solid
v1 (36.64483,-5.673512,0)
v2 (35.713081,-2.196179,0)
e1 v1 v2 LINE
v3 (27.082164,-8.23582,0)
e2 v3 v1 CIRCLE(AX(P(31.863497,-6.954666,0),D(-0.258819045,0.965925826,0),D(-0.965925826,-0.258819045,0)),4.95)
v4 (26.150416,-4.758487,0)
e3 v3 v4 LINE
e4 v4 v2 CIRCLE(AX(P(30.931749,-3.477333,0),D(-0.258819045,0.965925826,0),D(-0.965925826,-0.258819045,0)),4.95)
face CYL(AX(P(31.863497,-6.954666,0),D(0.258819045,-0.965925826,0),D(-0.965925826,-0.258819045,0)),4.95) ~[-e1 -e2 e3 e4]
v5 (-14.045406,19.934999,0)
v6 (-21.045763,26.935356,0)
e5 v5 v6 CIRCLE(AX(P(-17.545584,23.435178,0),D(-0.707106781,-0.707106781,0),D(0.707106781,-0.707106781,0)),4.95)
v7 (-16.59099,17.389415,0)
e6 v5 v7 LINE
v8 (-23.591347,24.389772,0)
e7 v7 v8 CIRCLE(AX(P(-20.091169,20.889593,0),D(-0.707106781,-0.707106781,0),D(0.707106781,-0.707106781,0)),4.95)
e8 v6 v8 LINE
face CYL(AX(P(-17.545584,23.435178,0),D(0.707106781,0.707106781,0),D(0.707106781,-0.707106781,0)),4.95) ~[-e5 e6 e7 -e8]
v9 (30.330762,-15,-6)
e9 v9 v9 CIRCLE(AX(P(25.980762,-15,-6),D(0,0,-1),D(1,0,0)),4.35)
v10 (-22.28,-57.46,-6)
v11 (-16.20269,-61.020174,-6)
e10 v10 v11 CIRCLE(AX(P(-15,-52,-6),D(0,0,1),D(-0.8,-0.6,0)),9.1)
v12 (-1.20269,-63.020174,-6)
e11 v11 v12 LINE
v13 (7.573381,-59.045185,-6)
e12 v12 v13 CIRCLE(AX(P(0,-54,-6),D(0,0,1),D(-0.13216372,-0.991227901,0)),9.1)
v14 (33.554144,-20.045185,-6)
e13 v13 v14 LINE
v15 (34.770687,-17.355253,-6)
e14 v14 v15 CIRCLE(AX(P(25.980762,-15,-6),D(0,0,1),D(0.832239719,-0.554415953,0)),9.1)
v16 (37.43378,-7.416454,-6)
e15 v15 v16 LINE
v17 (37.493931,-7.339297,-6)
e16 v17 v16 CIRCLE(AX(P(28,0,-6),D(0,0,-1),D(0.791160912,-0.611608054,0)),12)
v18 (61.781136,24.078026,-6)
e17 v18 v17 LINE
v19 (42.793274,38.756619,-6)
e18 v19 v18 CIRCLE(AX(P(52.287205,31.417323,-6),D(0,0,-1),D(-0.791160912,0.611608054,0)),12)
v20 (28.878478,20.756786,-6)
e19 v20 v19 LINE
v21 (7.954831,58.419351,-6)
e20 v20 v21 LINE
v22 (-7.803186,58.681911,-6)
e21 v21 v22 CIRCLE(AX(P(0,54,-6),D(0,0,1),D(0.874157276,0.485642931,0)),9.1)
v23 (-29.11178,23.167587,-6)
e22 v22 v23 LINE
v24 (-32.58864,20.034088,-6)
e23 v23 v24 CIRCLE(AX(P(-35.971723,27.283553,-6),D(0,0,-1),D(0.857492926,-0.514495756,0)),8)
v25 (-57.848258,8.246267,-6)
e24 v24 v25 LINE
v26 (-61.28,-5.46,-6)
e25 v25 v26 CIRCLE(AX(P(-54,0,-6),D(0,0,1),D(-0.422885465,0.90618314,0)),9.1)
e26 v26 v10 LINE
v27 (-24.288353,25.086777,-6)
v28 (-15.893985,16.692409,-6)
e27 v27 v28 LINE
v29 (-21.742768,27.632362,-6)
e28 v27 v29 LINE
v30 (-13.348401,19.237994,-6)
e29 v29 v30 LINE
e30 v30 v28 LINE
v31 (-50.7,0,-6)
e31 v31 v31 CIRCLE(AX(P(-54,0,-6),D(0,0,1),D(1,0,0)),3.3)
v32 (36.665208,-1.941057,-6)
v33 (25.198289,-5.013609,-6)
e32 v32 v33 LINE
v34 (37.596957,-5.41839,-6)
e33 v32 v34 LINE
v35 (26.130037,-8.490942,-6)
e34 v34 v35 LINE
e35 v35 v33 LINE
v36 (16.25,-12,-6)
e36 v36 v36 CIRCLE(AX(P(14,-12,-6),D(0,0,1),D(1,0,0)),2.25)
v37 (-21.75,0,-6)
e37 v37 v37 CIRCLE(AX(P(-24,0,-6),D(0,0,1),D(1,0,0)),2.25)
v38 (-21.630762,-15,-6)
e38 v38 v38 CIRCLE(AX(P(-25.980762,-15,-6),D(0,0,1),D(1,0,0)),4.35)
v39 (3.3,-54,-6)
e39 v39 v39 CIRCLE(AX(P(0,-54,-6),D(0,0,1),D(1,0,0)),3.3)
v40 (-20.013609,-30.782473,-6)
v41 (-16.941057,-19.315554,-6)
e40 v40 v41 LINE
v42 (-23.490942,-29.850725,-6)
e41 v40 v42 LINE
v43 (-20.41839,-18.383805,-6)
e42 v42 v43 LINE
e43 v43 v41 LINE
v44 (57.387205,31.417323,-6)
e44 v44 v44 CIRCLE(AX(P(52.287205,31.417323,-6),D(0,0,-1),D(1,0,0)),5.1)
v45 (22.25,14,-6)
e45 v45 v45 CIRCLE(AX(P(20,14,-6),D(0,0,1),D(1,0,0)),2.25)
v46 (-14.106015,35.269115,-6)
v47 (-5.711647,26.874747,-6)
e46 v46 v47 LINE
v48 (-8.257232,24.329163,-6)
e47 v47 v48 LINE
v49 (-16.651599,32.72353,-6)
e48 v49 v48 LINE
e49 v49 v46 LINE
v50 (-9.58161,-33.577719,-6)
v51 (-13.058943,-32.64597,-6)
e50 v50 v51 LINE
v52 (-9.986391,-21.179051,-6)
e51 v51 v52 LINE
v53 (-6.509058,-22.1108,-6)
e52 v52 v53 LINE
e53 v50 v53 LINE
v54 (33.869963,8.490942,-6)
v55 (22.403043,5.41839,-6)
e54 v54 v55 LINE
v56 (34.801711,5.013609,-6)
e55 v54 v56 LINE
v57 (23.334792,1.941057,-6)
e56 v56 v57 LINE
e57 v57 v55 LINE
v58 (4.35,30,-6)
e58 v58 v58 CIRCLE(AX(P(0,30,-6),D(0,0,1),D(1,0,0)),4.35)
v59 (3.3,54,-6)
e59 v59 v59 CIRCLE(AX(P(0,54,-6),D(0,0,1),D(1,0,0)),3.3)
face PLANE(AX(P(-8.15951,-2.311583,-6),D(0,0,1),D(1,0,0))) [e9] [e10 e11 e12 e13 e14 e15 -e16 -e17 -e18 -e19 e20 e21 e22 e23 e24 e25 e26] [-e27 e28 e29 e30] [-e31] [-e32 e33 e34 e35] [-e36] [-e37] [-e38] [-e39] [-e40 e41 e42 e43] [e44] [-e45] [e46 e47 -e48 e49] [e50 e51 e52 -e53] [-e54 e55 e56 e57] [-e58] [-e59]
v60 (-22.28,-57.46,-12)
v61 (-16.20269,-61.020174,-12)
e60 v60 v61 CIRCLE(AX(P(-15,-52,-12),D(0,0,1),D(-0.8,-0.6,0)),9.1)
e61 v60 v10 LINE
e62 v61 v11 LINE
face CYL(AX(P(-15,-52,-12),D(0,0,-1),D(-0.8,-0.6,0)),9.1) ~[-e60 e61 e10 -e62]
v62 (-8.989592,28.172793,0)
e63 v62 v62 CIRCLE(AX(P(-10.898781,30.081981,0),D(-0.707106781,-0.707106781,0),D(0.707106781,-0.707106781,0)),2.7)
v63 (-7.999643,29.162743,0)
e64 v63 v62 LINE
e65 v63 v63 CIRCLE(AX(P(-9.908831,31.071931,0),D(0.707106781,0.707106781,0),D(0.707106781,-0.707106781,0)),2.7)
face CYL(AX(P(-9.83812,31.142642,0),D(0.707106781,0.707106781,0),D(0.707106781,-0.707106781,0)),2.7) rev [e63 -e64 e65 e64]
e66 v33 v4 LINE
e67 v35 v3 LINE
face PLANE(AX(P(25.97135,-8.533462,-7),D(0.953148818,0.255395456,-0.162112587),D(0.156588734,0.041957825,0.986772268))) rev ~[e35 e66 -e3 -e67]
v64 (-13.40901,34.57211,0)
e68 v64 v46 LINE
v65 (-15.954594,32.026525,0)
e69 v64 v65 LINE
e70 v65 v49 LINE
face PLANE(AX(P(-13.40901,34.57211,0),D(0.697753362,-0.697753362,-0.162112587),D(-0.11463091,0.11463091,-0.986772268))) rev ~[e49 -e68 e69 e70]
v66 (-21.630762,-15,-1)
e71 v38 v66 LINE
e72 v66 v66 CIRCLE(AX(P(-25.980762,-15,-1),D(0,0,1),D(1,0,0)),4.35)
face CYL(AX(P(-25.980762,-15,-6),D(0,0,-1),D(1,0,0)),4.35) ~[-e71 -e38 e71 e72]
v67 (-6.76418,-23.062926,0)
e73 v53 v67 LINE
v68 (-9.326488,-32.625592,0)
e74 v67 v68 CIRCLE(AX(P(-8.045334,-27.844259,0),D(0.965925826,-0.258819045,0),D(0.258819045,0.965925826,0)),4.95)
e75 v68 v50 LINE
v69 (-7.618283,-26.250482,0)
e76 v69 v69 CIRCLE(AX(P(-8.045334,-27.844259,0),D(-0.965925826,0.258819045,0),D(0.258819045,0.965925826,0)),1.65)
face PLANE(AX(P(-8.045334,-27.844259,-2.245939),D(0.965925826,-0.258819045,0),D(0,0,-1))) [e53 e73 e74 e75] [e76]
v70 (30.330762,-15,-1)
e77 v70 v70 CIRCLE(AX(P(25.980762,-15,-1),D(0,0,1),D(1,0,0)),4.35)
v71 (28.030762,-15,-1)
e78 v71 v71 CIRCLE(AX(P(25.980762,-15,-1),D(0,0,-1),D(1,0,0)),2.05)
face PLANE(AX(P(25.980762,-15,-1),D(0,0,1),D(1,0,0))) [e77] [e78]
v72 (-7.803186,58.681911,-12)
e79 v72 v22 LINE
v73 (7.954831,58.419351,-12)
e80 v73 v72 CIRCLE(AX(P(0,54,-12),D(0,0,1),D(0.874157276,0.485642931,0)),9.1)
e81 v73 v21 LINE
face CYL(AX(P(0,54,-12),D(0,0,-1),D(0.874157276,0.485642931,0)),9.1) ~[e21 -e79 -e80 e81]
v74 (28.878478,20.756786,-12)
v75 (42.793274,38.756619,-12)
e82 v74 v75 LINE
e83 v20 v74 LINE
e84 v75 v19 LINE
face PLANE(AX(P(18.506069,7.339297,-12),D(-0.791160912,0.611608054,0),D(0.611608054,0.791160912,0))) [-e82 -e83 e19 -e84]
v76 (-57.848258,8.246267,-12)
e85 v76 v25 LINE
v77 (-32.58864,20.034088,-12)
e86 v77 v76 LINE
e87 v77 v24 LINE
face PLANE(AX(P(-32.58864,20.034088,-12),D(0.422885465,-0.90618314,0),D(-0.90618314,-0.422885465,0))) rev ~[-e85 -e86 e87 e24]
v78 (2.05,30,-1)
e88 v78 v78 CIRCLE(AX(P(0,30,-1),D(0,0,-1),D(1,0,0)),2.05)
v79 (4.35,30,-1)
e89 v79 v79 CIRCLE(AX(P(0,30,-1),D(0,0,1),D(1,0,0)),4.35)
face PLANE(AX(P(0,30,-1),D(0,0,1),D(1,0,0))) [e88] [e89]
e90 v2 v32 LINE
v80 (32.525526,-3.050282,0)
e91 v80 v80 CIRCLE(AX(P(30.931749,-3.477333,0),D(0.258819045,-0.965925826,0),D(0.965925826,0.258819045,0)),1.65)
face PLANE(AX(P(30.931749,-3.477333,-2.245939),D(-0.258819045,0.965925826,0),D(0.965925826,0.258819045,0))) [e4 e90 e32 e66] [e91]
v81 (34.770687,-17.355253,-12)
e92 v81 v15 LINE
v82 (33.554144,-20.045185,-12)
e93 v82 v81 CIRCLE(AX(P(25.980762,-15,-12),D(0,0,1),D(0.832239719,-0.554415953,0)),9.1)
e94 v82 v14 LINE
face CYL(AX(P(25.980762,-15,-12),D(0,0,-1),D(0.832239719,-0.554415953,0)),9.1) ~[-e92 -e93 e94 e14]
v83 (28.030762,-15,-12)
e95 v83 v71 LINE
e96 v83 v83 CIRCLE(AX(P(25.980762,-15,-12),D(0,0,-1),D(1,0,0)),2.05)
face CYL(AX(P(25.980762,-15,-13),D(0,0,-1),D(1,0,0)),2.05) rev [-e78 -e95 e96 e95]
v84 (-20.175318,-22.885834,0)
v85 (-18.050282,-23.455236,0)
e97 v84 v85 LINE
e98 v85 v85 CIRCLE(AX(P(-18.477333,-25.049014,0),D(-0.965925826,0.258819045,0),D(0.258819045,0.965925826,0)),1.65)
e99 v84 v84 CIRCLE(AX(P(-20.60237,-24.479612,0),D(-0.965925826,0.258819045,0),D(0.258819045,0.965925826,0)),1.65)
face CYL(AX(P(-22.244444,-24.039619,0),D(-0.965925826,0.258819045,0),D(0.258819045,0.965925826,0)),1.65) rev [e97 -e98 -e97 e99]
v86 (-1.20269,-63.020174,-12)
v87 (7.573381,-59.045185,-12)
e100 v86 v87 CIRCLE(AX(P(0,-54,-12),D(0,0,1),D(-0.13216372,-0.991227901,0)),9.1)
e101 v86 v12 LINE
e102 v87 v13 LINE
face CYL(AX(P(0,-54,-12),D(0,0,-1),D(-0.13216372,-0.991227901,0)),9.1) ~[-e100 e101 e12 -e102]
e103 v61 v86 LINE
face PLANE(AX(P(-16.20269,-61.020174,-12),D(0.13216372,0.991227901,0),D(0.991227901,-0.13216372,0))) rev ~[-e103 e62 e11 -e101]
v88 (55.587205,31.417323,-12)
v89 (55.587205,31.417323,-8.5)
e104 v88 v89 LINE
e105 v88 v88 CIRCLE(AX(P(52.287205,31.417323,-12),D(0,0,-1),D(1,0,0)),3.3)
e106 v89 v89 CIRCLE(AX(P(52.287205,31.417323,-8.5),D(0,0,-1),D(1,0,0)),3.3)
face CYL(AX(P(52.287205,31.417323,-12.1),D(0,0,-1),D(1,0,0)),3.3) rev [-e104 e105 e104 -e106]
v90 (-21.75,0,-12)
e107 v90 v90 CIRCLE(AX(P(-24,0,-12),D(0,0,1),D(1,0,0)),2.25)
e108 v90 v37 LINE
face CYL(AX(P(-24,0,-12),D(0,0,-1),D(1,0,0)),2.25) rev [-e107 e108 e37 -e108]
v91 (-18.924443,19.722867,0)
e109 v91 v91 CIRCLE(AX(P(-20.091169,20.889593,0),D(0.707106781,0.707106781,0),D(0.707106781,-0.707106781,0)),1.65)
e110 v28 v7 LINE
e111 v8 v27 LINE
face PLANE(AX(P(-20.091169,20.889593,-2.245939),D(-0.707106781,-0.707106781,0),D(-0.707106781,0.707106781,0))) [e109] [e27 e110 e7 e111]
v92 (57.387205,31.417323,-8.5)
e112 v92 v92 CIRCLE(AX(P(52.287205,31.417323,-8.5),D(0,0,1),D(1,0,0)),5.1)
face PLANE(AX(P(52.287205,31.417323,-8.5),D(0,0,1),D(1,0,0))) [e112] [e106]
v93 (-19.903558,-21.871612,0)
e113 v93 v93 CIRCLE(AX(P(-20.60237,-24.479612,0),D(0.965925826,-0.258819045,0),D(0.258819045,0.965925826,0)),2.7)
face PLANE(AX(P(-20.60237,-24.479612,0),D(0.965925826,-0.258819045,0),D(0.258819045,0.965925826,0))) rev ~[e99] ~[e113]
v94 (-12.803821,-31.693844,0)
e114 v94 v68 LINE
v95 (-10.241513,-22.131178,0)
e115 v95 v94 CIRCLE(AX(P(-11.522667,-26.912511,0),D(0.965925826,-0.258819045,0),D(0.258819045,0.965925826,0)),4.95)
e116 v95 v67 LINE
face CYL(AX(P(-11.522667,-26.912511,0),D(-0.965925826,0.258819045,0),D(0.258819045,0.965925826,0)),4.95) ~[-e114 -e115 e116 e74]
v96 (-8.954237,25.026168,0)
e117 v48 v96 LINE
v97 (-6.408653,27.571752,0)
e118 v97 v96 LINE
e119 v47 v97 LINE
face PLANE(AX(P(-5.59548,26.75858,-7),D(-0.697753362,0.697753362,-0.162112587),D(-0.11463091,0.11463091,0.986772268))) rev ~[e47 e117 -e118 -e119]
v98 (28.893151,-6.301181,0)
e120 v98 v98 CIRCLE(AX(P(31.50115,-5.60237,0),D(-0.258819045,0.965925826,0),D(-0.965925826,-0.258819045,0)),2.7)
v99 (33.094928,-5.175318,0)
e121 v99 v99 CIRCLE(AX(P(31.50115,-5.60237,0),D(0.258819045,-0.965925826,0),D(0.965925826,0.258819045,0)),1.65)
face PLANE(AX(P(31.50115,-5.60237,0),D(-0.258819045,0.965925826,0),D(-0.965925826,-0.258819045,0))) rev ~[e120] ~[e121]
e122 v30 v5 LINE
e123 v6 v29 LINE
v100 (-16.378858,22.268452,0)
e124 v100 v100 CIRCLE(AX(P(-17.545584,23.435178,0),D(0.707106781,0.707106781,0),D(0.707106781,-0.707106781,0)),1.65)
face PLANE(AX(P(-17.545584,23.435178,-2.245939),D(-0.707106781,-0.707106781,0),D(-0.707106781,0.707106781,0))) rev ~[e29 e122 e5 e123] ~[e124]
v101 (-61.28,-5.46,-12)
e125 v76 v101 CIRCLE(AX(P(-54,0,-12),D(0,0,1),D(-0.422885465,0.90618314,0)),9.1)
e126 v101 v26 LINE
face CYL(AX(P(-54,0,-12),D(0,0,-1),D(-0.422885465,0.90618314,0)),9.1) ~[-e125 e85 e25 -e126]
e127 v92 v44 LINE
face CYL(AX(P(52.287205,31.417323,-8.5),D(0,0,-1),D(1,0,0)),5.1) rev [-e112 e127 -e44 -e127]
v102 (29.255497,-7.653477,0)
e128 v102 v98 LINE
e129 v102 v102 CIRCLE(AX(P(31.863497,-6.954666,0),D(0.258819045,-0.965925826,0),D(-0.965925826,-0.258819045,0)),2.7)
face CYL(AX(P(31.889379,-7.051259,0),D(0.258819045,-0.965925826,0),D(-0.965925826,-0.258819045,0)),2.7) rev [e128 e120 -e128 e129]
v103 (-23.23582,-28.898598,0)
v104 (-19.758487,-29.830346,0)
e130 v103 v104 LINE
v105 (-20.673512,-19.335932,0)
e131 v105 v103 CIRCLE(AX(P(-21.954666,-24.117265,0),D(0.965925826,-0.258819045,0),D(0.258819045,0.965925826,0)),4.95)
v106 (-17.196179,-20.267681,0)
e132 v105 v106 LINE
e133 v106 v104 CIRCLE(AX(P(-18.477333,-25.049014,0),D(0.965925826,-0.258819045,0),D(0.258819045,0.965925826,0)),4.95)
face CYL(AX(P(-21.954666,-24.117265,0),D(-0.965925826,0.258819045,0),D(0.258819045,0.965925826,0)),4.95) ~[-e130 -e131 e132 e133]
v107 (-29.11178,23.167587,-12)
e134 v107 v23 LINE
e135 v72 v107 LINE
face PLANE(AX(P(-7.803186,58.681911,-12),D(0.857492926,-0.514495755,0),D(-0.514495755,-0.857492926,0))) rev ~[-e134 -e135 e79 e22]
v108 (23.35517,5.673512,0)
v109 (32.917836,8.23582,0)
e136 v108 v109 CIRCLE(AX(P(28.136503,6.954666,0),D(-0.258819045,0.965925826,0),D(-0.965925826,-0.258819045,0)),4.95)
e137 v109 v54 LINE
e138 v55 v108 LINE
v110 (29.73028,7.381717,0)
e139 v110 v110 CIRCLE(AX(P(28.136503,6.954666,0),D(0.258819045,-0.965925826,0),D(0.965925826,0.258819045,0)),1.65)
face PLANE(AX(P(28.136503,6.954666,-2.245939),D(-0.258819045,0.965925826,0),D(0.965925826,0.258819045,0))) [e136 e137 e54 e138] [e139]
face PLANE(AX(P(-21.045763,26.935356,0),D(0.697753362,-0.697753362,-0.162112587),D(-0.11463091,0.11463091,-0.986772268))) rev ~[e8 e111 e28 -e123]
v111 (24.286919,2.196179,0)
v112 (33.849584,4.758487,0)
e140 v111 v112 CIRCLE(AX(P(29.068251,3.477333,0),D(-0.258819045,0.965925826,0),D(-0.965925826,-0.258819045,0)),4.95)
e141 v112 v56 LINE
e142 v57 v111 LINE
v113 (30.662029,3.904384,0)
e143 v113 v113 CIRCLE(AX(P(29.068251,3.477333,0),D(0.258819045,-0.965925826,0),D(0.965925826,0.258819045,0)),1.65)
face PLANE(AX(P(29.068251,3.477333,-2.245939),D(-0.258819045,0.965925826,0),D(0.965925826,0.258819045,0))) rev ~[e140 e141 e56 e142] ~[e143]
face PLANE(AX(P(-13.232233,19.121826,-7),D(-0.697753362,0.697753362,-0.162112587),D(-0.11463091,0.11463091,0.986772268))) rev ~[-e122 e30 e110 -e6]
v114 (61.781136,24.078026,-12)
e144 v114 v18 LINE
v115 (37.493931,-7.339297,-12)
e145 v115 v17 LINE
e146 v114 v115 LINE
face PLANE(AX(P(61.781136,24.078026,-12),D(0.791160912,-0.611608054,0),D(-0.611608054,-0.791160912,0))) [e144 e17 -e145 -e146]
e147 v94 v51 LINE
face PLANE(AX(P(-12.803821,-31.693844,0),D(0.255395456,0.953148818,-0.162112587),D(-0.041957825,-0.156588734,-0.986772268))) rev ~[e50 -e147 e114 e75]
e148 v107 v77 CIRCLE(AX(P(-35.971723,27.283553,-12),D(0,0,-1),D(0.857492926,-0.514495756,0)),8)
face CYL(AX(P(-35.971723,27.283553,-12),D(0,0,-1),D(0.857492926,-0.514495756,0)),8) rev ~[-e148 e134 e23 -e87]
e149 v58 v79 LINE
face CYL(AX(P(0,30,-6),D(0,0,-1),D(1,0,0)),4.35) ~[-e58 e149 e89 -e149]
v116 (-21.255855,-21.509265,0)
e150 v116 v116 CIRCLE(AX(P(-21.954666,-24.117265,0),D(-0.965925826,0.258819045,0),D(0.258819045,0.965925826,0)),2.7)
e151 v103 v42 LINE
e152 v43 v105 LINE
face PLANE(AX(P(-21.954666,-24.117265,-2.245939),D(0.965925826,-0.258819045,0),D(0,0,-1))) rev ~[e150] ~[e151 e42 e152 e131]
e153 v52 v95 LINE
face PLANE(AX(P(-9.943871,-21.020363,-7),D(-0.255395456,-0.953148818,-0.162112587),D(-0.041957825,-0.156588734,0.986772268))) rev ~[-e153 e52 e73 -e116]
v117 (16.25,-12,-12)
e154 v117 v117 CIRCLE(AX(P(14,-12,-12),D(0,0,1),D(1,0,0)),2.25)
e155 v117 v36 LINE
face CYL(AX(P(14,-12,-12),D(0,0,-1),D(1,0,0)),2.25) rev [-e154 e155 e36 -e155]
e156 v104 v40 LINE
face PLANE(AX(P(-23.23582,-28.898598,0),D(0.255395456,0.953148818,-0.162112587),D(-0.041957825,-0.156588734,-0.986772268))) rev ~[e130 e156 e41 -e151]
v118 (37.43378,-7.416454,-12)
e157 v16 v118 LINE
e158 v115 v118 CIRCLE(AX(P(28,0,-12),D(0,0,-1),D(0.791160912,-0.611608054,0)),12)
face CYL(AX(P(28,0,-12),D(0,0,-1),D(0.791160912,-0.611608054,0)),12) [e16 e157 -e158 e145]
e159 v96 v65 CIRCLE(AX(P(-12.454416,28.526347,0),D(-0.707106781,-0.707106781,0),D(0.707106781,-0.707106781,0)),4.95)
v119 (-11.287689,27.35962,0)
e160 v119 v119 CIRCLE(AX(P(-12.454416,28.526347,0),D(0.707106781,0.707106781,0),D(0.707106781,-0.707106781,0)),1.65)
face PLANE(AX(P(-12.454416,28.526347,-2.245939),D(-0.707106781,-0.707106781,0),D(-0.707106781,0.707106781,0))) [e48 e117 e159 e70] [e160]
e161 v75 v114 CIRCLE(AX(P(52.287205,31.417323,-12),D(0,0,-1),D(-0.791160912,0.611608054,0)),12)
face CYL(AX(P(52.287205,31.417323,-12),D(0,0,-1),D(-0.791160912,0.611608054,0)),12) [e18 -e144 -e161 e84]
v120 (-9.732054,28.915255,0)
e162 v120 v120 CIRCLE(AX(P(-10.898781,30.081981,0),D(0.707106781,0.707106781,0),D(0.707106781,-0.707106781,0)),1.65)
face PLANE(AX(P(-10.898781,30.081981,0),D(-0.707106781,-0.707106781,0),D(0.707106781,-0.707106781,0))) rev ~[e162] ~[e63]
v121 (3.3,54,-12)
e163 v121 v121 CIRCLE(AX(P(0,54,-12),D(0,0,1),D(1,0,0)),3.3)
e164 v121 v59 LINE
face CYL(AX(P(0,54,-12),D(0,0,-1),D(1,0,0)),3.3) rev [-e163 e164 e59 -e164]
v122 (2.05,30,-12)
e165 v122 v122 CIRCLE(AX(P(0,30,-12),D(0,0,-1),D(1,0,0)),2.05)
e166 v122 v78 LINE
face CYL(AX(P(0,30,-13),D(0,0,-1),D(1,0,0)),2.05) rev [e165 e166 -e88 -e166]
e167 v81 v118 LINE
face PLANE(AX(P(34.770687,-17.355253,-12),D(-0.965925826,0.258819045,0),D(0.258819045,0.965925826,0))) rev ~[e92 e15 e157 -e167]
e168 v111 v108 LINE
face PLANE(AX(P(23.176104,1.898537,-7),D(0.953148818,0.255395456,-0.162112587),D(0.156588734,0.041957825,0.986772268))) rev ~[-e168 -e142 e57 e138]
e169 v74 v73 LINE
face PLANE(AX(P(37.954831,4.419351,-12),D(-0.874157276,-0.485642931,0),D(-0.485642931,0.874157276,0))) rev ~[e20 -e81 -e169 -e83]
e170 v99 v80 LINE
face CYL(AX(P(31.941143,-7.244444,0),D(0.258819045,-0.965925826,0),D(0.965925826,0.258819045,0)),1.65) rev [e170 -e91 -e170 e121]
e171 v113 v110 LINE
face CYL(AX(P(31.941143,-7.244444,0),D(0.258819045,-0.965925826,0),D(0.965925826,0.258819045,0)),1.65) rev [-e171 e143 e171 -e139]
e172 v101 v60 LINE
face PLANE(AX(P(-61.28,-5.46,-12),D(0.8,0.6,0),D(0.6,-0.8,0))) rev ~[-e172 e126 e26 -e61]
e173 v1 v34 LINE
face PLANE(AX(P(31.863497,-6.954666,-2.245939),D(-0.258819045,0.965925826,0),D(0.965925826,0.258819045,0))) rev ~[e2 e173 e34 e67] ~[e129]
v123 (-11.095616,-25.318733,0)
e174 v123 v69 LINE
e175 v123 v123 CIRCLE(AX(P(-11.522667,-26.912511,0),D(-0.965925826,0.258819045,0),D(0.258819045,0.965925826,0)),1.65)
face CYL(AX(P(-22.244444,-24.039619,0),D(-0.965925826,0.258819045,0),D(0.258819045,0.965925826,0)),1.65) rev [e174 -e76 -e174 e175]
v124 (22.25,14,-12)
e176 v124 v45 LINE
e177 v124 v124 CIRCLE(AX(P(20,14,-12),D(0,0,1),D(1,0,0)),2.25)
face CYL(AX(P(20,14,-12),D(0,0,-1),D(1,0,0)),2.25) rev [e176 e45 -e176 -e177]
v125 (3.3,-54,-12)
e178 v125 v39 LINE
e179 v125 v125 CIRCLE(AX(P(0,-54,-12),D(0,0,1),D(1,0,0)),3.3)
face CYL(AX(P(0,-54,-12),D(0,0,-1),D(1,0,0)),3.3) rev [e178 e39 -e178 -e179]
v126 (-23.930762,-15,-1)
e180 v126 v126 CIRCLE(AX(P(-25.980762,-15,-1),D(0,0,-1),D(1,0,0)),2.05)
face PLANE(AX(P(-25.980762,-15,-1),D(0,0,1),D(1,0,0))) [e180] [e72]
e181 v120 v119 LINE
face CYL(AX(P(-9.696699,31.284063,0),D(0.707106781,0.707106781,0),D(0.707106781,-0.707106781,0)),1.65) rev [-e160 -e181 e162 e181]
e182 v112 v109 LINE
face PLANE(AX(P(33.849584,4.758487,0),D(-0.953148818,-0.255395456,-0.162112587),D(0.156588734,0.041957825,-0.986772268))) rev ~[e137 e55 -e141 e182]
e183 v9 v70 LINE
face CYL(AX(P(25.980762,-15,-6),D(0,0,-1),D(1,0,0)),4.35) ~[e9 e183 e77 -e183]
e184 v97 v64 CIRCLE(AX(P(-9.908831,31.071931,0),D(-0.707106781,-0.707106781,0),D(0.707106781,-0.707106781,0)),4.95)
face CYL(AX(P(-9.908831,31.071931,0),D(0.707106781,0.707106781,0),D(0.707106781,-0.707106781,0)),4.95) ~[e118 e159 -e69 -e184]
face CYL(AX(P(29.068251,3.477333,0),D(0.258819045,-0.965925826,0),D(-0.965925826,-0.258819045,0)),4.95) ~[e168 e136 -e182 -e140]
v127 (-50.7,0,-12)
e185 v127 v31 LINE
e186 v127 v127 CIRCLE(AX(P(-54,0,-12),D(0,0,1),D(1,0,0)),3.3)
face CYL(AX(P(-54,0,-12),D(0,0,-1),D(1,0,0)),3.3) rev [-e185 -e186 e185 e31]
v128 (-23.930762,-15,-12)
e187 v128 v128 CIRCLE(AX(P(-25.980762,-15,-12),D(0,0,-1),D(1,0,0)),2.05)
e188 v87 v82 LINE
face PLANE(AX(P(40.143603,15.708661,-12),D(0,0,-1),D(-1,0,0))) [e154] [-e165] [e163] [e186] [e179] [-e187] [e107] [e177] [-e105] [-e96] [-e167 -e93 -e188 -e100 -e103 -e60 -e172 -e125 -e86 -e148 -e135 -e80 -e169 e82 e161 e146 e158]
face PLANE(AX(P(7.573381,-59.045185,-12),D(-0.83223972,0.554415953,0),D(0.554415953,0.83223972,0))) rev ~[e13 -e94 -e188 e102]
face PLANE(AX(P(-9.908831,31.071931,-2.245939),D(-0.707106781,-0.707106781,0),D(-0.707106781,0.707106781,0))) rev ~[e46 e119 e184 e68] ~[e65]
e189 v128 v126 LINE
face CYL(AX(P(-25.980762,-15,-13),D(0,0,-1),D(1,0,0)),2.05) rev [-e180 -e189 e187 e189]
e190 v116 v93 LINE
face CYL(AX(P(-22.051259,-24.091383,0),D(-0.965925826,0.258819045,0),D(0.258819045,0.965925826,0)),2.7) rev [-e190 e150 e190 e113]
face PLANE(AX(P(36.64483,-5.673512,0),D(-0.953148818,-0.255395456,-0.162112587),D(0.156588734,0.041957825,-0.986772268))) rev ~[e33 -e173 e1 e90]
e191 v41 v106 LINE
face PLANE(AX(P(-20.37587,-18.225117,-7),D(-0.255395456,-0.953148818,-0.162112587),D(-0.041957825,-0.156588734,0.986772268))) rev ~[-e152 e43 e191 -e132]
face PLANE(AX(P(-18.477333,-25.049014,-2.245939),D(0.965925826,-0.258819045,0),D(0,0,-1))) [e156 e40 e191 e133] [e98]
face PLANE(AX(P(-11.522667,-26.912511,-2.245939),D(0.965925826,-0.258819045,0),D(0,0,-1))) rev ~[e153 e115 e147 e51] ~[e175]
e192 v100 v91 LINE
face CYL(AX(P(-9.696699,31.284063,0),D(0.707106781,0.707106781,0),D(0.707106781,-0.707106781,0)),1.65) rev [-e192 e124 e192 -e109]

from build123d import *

# Parameters (mm, degrees)
F_01_START                                     = -12
S01_ROUNDED_V3_BACKPLATE_WITH_CAGE_AND_R       = 3.3
S01_ROUNDED_V3_BACKPLATE_WITH_CAGE_AND_R_2     = 2.25
F_01_ROUNDED_V3_BACKPLATE_WITH_CAGE_AND_DEPTH  = 6
F_02_START                                     = -6
S02_THREE_CORD_GUIDE_PEDESTALS_R               = 4.35
F_02_THREE_CORD_GUIDE_PEDESTALS_DEPTH          = 5
F_03_START                                     = -13
S03_THREE_SMOOTH_GROMMET_SEATS_R               = 2.05
F_03_THREE_SMOOTH_GROMMET_SEATS_DEPTH          = 14
F_04_START                                     = -7.2
F_04_INTEGRAL_A1_FORK_CHEEK_L_DEPTH            = 3.6
F_05_START                                     = 3.6
F_05_INTEGRAL_A1_FORK_CHEEK_R_DEPTH            = 3.6
F_06_START                                     = -7.5
S06_A1_PIVOT_THROUGH_BOTH_CHEEKS_R             = 1.65
F_06_A1_PIVOT_THROUGH_BOTH_CHEEKS_DEPTH        = 15
F_07_START                                     = -7.3
S07_A1_RECESSED_PIVOT_SCREW_HEAD_R             = 2.7
F_07_A1_RECESSED_PIVOT_SCREW_HEAD_DEPTH        = 1.5
F_08_START                                     = -7.2
F_08_INTEGRAL_A2_FORK_CHEEK_L_DEPTH            = 3.6
F_09_START                                     = 3.6
F_09_INTEGRAL_A2_FORK_CHEEK_R_DEPTH            = 3.6
F_10_START                                     = -7.5
S10_A2_PIVOT_THROUGH_BOTH_CHEEKS_R             = 1.65
F_10_A2_PIVOT_THROUGH_BOTH_CHEEKS_DEPTH        = 15
F_11_START                                     = -7.3
S11_A2_RECESSED_PIVOT_SCREW_HEAD_R             = 2.7
F_11_A2_RECESSED_PIVOT_SCREW_HEAD_DEPTH        = 1.5
F_12_START                                     = -7.2
F_12_INTEGRAL_A3_FORK_CHEEK_L_DEPTH            = 3.6
F_13_START                                     = 3.6
F_13_INTEGRAL_A3_FORK_CHEEK_R_DEPTH            = 3.6
F_14_START                                     = -7.5
S14_A3_PIVOT_THROUGH_BOTH_CHEEKS_R             = 1.65
F_14_A3_PIVOT_THROUGH_BOTH_CHEEKS_DEPTH        = 15
F_15_START                                     = -7.3
S15_A3_RECESSED_PIVOT_SCREW_HEAD_R             = 2.7
F_15_A3_RECESSED_PIVOT_SCREW_HEAD_DEPTH        = 1.5
F_16_START                                     = -12
F_16_CONTINUOUS_LAND_FOR_BUMP_END_SUPPOR_DEPTH = 6
F_17_START                                     = -12.1
S17_THROUGH_CLEARANCE_FOR_TRACK_SUPPOR_R       = 3.3
F_17_THROUGH_CLEARANCE_FOR_TRACK_SUPPORT_DEPTH = 6.2
F_18_START                                     = -8.5
S18_LOCATING_COUNTERBORE_FOR_BUMP_END_R        = 5.1
F_18_LOCATING_COUNTERBORE_FOR_BUMP_END_P_DEPTH = 2.6


with BuildPart() as part:
    # S01 - Rounded V3 backplate with cage and cassette fixings → 01 - Rounded V3 backplate with cage and cassette fixings (new body)
    with BuildSketch(Plane.XY.offset(F_01_START)):
        with BuildLine():
            Line((-61.28, -5.46), (-22.28, -57.46))
            ThreePointArc((-22.28, -57.46), (-19.599751768, -59.85189682), (-16.202689853, -61.020173896))
            Line((-16.202689853, -61.020173896), (-1.202689853, -63.020173896))
            ThreePointArc((-1.202689853, -63.020173896), (3.754538811, -62.28935693), (7.573381448, -59.045185174))
            Line((7.573381448, -59.045185174), (33.554143562, -20.045185174))
            ThreePointArc((33.554143562, -20.045185174), (34.27222658, -18.749882266), (34.770687133, -17.35525331))
            Line((34.770687133, -17.35525331), (38.789925019, -2.35525331))
            ThreePointArc((38.789925019, -2.35525331), (39.031640499, 1.113314824), (37.954831213, 4.419350674))
            Line((37.954831213, 4.419350674), (7.954831213, 58.419350674))
            ThreePointArc((7.954831213, 58.419350674), (0.151603518, 63.098737076), (-7.803185624, 58.681911374))
            Line((-7.803185624, 58.681911374), (-29.111780005, 23.167587405))
            ThreePointArc((-29.111780005, 23.167587405), (-30.615922322, 21.34087773), (-32.588639688, 20.034088329))
            Line((-32.588639688, 20.034088329), (-57.848257735, 8.246266574))
            ThreePointArc((-57.848257735, 8.246266574), (-62.827511875, 2.210211325), (-61.28, -5.46))
        make_face()
        with Locations((0, 54)):
            Circle(S01_ROUNDED_V3_BACKPLATE_WITH_CAGE_AND_R, mode=Mode.SUBTRACT)
        with Locations((-54, 0)):
            Circle(S01_ROUNDED_V3_BACKPLATE_WITH_CAGE_AND_R, mode=Mode.SUBTRACT)
        with Locations((0, -54)):
            Circle(S01_ROUNDED_V3_BACKPLATE_WITH_CAGE_AND_R, mode=Mode.SUBTRACT)
        with Locations((14, -12)):
            Circle(S01_ROUNDED_V3_BACKPLATE_WITH_CAGE_AND_R_2, mode=Mode.SUBTRACT)
        with Locations((20, 14)):
            Circle(S01_ROUNDED_V3_BACKPLATE_WITH_CAGE_AND_R_2, mode=Mode.SUBTRACT)
        with Locations((-24, 0)):
            Circle(S01_ROUNDED_V3_BACKPLATE_WITH_CAGE_AND_R_2, mode=Mode.SUBTRACT)
    extrude(amount=F_01_ROUNDED_V3_BACKPLATE_WITH_CAGE_AND_DEPTH)

    # S02 - Three cord guide pedestals → 02 - Three cord guide pedestals (add)
    with BuildSketch(Plane.XY.offset(F_02_START)):
        with Locations((25.980762114, -15)):
            Circle(S02_THREE_CORD_GUIDE_PEDESTALS_R)
        with Locations((0, 30)):
            Circle(S02_THREE_CORD_GUIDE_PEDESTALS_R)
        with Locations((-25.980762114, -15)):
            Circle(S02_THREE_CORD_GUIDE_PEDESTALS_R)
    extrude(amount=F_02_THREE_CORD_GUIDE_PEDESTALS_DEPTH)

    # S03 - Three smooth grommet seats → 03 - Three smooth grommet seats (cut)
    with BuildSketch(Plane.XY.offset(F_03_START)):
        with Locations((25.980762114, -15)):
            Circle(S03_THREE_SMOOTH_GROMMET_SEATS_R)
        with Locations((0, 30)):
            Circle(S03_THREE_SMOOTH_GROMMET_SEATS_R)
        with Locations((-25.980762114, -15)):
            Circle(S03_THREE_SMOOTH_GROMMET_SEATS_R)
    extrude(amount=F_03_THREE_SMOOTH_GROMMET_SEATS_DEPTH, mode=Mode.SUBTRACT)

    # S04 - Integral A1 fork cheek L → 04 - Integral A1 fork cheek L (add)
    with BuildSketch(Plane(origin=(2.009618943, -7.5, 0), x_dir=(0.9659258262890683, 0.25881904510252085, 0), z_dir=(-0.2588190451025208, 0.9659258262890682, 0)).offset(F_04_START)):
        with BuildLine():
            Line((35.077774789, 7), (22.877774789, 7))
            Line((22.877774789, 7), (24.027774789, 0))
            ThreePointArc((24.027774789, 0), (28.977774789, -4.95), (33.927774789, 0))
            Line((33.927774789, 0), (35.077774789, 7))
        make_face()
    extrude(amount=F_04_INTEGRAL_A1_FORK_CHEEK_L_DEPTH)

    # S05 - Integral A1 fork cheek R → 05 - Integral A1 fork cheek R (add)
    with BuildSketch(Plane(origin=(2.009618943, -7.5, 0), x_dir=(0.9659258262890683, 0.25881904510252085, 0), z_dir=(-0.2588190451025208, 0.9659258262890682, 0)).offset(F_05_START)):
        with BuildLine():
            Line((35.077774789, 7), (22.877774789, 7))
            Line((22.877774789, 7), (24.027774789, 0))
            ThreePointArc((24.027774789, 0), (28.977774789, -4.95), (33.927774789, 0))
            Line((33.927774789, 0), (35.077774789, 7))
        make_face()
    extrude(amount=F_05_INTEGRAL_A1_FORK_CHEEK_R_DEPTH)

    # S06 - A1 pivot through both cheeks → 06 - A1 pivot through both cheeks (cut)
    with BuildSketch(Plane(origin=(2.009618943, -7.5, 0), x_dir=(0.9659258262890683, 0.25881904510252085, 0), z_dir=(-0.2588190451025208, 0.9659258262890682, 0)).offset(F_06_START)):
        with Locations((28.977774789, 0)):
            Circle(S06_A1_PIVOT_THROUGH_BOTH_CHEEKS_R)
    extrude(amount=F_06_A1_PIVOT_THROUGH_BOTH_CHEEKS_DEPTH, mode=Mode.SUBTRACT)

    # S07 - A1 recessed pivot screw head → 07 - A1 recessed pivot screw head (cut)
    with BuildSketch(Plane(origin=(2.009618943, -7.5, 0), x_dir=(0.9659258262890683, 0.25881904510252085, 0), z_dir=(-0.2588190451025208, 0.9659258262890682, 0)).offset(F_07_START)):
        with Locations(Location((28.977774789, 0, 0), (0, 0, 180))):
            Circle(S07_A1_RECESSED_PIVOT_SCREW_HEAD_R)
    extrude(amount=F_07_A1_RECESSED_PIVOT_SCREW_HEAD_DEPTH, mode=Mode.SUBTRACT)

    # S08 - Integral A2 fork cheek L → 08 - Integral A2 fork cheek L (add)
    with BuildSketch(Plane(origin=(5.490381057, 5.490381057, 0), x_dir=(-0.7071067811865475, 0.7071067811865477, 0), z_dir=(-0.7071067811865477, -0.7071067811865475, 0)).offset(F_08_START)):
        with BuildLine():
            Line((35.077774789, 7), (22.877774789, 7))
            Line((22.877774789, 7), (24.027774789, 0))
            ThreePointArc((24.027774789, 0), (28.977774789, -4.95), (33.927774789, 0))
            Line((33.927774789, 0), (35.077774789, 7))
        make_face()
    extrude(amount=F_08_INTEGRAL_A2_FORK_CHEEK_L_DEPTH)

    # S09 - Integral A2 fork cheek R → 09 - Integral A2 fork cheek R (add)
    with BuildSketch(Plane(origin=(5.490381057, 5.490381057, 0), x_dir=(-0.7071067811865475, 0.7071067811865477, 0), z_dir=(-0.7071067811865477, -0.7071067811865475, 0)).offset(F_09_START)):
        with BuildLine():
            Line((35.077774789, 7), (22.877774789, 7))
            Line((22.877774789, 7), (24.027774789, 0))
            ThreePointArc((24.027774789, 0), (28.977774789, -4.95), (33.927774789, 0))
            Line((33.927774789, 0), (35.077774789, 7))
        make_face()
    extrude(amount=F_09_INTEGRAL_A2_FORK_CHEEK_R_DEPTH)

    # S10 - A2 pivot through both cheeks → 10 - A2 pivot through both cheeks (cut)
    with BuildSketch(Plane(origin=(5.490381057, 5.490381057, 0), x_dir=(-0.7071067811865475, 0.7071067811865477, 0), z_dir=(-0.7071067811865477, -0.7071067811865475, 0)).offset(F_10_START)):
        with Locations(Location((28.977774789, 0, 0), (0, 0, 180))):
            Circle(S10_A2_PIVOT_THROUGH_BOTH_CHEEKS_R)
    extrude(amount=F_10_A2_PIVOT_THROUGH_BOTH_CHEEKS_DEPTH, mode=Mode.SUBTRACT)

    # S11 - A2 recessed pivot screw head → 11 - A2 recessed pivot screw head (cut)
    with BuildSketch(Plane(origin=(5.490381057, 5.490381057, 0), x_dir=(-0.7071067811865475, 0.7071067811865477, 0), z_dir=(-0.7071067811865477, -0.7071067811865475, 0)).offset(F_11_START)):
        with Locations(Location((28.977774789, 0, 0), (0, 0, 180))):
            Circle(S11_A2_RECESSED_PIVOT_SCREW_HEAD_R)
    extrude(amount=F_11_A2_RECESSED_PIVOT_SCREW_HEAD_DEPTH, mode=Mode.SUBTRACT)

    # S12 - Integral A3 fork cheek L → 12 - Integral A3 fork cheek L (add)
    with BuildSketch(Plane(origin=(-7.5, 2.009618943, 0), x_dir=(0, 0, -1), z_dir=(0.9659258262890683, -0.25881904510252113, 0)).offset(F_12_START)):
        with BuildLine():
            Line((7, -35.077774789), (7, -22.877774789))
            Line((7, -22.877774789), (0, -24.027774789))
            ThreePointArc((0, -24.027774789), (-4.95, -28.977774789), (0, -33.927774789))
            Line((0, -33.927774789), (7, -35.077774789))
        make_face()
    extrude(amount=F_12_INTEGRAL_A3_FORK_CHEEK_L_DEPTH)

    # S13 - Integral A3 fork cheek R → 13 - Integral A3 fork cheek R (add)
    with BuildSketch(Plane(origin=(-7.5, 2.009618943, 0), x_dir=(0, 0, -1), z_dir=(0.9659258262890683, -0.25881904510252113, 0)).offset(F_13_START)):
        with BuildLine():
            Line((7, -35.077774789), (7, -22.877774789))
            Line((7, -22.877774789), (0, -24.027774789))
            ThreePointArc((0, -24.027774789), (-4.95, -28.977774789), (0, -33.927774789))
            Line((0, -33.927774789), (7, -35.077774789))
        make_face()
    extrude(amount=F_13_INTEGRAL_A3_FORK_CHEEK_R_DEPTH)

    # S14 - A3 pivot through both cheeks → 14 - A3 pivot through both cheeks (cut)
    with BuildSketch(Plane(origin=(-7.5, 2.009618943, 0), x_dir=(0, 0, -1), z_dir=(0.9659258262890683, -0.25881904510252113, 0)).offset(F_14_START)):
        with Locations(Location((0, -28.977774789, 0), (0, 0, 90))):
            Circle(S14_A3_PIVOT_THROUGH_BOTH_CHEEKS_R)
    extrude(amount=F_14_A3_PIVOT_THROUGH_BOTH_CHEEKS_DEPTH, mode=Mode.SUBTRACT)

    # S15 - A3 recessed pivot screw head → 15 - A3 recessed pivot screw head (cut)
    with BuildSketch(Plane(origin=(-7.5, 2.009618943, 0), x_dir=(0, 0, -1), z_dir=(0.9659258262890683, -0.25881904510252113, 0)).offset(F_15_START)):
        with Locations(Location((0, -28.977774789, 0), (0, 0, 90))):
            Circle(S15_A3_RECESSED_PIVOT_SCREW_HEAD_R)
    extrude(amount=F_15_A3_RECESSED_PIVOT_SCREW_HEAD_DEPTH, mode=Mode.SUBTRACT)

    # S16 - Continuous land for bump end support → 16 - Continuous land for bump end support (add)
    with BuildSketch(Plane.XY.offset(F_16_START)):
        with BuildLine():
            Line((18.50606906, 7.339296649), (42.793274403, 38.756619219))
            ThreePointArc((42.793274403, 38.756619219), (59.626501992, 40.91125351), (61.781136283, 24.07802592))
            Line((61.781136283, 24.07802592), (37.49393094, -7.339296649))
            ThreePointArc((37.49393094, -7.339296649), (20.660703351, -9.49393094), (18.50606906, 7.339296649))
        make_face()
    extrude(amount=F_16_CONTINUOUS_LAND_FOR_BUMP_END_SUPPOR_DEPTH)

    # S17 - Through clearance for track support screw → 17 - Through clearance for track support screw (cut)
    with BuildSketch(Plane.XY.offset(F_17_START)):
        with Locations((52.287205343, 31.41732257)):
            Circle(S17_THROUGH_CLEARANCE_FOR_TRACK_SUPPOR_R)
    extrude(amount=F_17_THROUGH_CLEARANCE_FOR_TRACK_SUPPORT_DEPTH, mode=Mode.SUBTRACT)

    # S18 - Locating counterbore for bump end post → 18 - Locating counterbore for bump end post (cut)
    with BuildSketch(Plane.XY.offset(F_18_START)):
        with Locations((52.287205343, 31.41732257)):
            Circle(S18_LOCATING_COUNTERBORE_FOR_BUMP_END_R)
    extrude(amount=F_18_LOCATING_COUNTERBORE_FOR_BUMP_END_P_DEPTH, mode=Mode.SUBTRACT)


solid = part.part
